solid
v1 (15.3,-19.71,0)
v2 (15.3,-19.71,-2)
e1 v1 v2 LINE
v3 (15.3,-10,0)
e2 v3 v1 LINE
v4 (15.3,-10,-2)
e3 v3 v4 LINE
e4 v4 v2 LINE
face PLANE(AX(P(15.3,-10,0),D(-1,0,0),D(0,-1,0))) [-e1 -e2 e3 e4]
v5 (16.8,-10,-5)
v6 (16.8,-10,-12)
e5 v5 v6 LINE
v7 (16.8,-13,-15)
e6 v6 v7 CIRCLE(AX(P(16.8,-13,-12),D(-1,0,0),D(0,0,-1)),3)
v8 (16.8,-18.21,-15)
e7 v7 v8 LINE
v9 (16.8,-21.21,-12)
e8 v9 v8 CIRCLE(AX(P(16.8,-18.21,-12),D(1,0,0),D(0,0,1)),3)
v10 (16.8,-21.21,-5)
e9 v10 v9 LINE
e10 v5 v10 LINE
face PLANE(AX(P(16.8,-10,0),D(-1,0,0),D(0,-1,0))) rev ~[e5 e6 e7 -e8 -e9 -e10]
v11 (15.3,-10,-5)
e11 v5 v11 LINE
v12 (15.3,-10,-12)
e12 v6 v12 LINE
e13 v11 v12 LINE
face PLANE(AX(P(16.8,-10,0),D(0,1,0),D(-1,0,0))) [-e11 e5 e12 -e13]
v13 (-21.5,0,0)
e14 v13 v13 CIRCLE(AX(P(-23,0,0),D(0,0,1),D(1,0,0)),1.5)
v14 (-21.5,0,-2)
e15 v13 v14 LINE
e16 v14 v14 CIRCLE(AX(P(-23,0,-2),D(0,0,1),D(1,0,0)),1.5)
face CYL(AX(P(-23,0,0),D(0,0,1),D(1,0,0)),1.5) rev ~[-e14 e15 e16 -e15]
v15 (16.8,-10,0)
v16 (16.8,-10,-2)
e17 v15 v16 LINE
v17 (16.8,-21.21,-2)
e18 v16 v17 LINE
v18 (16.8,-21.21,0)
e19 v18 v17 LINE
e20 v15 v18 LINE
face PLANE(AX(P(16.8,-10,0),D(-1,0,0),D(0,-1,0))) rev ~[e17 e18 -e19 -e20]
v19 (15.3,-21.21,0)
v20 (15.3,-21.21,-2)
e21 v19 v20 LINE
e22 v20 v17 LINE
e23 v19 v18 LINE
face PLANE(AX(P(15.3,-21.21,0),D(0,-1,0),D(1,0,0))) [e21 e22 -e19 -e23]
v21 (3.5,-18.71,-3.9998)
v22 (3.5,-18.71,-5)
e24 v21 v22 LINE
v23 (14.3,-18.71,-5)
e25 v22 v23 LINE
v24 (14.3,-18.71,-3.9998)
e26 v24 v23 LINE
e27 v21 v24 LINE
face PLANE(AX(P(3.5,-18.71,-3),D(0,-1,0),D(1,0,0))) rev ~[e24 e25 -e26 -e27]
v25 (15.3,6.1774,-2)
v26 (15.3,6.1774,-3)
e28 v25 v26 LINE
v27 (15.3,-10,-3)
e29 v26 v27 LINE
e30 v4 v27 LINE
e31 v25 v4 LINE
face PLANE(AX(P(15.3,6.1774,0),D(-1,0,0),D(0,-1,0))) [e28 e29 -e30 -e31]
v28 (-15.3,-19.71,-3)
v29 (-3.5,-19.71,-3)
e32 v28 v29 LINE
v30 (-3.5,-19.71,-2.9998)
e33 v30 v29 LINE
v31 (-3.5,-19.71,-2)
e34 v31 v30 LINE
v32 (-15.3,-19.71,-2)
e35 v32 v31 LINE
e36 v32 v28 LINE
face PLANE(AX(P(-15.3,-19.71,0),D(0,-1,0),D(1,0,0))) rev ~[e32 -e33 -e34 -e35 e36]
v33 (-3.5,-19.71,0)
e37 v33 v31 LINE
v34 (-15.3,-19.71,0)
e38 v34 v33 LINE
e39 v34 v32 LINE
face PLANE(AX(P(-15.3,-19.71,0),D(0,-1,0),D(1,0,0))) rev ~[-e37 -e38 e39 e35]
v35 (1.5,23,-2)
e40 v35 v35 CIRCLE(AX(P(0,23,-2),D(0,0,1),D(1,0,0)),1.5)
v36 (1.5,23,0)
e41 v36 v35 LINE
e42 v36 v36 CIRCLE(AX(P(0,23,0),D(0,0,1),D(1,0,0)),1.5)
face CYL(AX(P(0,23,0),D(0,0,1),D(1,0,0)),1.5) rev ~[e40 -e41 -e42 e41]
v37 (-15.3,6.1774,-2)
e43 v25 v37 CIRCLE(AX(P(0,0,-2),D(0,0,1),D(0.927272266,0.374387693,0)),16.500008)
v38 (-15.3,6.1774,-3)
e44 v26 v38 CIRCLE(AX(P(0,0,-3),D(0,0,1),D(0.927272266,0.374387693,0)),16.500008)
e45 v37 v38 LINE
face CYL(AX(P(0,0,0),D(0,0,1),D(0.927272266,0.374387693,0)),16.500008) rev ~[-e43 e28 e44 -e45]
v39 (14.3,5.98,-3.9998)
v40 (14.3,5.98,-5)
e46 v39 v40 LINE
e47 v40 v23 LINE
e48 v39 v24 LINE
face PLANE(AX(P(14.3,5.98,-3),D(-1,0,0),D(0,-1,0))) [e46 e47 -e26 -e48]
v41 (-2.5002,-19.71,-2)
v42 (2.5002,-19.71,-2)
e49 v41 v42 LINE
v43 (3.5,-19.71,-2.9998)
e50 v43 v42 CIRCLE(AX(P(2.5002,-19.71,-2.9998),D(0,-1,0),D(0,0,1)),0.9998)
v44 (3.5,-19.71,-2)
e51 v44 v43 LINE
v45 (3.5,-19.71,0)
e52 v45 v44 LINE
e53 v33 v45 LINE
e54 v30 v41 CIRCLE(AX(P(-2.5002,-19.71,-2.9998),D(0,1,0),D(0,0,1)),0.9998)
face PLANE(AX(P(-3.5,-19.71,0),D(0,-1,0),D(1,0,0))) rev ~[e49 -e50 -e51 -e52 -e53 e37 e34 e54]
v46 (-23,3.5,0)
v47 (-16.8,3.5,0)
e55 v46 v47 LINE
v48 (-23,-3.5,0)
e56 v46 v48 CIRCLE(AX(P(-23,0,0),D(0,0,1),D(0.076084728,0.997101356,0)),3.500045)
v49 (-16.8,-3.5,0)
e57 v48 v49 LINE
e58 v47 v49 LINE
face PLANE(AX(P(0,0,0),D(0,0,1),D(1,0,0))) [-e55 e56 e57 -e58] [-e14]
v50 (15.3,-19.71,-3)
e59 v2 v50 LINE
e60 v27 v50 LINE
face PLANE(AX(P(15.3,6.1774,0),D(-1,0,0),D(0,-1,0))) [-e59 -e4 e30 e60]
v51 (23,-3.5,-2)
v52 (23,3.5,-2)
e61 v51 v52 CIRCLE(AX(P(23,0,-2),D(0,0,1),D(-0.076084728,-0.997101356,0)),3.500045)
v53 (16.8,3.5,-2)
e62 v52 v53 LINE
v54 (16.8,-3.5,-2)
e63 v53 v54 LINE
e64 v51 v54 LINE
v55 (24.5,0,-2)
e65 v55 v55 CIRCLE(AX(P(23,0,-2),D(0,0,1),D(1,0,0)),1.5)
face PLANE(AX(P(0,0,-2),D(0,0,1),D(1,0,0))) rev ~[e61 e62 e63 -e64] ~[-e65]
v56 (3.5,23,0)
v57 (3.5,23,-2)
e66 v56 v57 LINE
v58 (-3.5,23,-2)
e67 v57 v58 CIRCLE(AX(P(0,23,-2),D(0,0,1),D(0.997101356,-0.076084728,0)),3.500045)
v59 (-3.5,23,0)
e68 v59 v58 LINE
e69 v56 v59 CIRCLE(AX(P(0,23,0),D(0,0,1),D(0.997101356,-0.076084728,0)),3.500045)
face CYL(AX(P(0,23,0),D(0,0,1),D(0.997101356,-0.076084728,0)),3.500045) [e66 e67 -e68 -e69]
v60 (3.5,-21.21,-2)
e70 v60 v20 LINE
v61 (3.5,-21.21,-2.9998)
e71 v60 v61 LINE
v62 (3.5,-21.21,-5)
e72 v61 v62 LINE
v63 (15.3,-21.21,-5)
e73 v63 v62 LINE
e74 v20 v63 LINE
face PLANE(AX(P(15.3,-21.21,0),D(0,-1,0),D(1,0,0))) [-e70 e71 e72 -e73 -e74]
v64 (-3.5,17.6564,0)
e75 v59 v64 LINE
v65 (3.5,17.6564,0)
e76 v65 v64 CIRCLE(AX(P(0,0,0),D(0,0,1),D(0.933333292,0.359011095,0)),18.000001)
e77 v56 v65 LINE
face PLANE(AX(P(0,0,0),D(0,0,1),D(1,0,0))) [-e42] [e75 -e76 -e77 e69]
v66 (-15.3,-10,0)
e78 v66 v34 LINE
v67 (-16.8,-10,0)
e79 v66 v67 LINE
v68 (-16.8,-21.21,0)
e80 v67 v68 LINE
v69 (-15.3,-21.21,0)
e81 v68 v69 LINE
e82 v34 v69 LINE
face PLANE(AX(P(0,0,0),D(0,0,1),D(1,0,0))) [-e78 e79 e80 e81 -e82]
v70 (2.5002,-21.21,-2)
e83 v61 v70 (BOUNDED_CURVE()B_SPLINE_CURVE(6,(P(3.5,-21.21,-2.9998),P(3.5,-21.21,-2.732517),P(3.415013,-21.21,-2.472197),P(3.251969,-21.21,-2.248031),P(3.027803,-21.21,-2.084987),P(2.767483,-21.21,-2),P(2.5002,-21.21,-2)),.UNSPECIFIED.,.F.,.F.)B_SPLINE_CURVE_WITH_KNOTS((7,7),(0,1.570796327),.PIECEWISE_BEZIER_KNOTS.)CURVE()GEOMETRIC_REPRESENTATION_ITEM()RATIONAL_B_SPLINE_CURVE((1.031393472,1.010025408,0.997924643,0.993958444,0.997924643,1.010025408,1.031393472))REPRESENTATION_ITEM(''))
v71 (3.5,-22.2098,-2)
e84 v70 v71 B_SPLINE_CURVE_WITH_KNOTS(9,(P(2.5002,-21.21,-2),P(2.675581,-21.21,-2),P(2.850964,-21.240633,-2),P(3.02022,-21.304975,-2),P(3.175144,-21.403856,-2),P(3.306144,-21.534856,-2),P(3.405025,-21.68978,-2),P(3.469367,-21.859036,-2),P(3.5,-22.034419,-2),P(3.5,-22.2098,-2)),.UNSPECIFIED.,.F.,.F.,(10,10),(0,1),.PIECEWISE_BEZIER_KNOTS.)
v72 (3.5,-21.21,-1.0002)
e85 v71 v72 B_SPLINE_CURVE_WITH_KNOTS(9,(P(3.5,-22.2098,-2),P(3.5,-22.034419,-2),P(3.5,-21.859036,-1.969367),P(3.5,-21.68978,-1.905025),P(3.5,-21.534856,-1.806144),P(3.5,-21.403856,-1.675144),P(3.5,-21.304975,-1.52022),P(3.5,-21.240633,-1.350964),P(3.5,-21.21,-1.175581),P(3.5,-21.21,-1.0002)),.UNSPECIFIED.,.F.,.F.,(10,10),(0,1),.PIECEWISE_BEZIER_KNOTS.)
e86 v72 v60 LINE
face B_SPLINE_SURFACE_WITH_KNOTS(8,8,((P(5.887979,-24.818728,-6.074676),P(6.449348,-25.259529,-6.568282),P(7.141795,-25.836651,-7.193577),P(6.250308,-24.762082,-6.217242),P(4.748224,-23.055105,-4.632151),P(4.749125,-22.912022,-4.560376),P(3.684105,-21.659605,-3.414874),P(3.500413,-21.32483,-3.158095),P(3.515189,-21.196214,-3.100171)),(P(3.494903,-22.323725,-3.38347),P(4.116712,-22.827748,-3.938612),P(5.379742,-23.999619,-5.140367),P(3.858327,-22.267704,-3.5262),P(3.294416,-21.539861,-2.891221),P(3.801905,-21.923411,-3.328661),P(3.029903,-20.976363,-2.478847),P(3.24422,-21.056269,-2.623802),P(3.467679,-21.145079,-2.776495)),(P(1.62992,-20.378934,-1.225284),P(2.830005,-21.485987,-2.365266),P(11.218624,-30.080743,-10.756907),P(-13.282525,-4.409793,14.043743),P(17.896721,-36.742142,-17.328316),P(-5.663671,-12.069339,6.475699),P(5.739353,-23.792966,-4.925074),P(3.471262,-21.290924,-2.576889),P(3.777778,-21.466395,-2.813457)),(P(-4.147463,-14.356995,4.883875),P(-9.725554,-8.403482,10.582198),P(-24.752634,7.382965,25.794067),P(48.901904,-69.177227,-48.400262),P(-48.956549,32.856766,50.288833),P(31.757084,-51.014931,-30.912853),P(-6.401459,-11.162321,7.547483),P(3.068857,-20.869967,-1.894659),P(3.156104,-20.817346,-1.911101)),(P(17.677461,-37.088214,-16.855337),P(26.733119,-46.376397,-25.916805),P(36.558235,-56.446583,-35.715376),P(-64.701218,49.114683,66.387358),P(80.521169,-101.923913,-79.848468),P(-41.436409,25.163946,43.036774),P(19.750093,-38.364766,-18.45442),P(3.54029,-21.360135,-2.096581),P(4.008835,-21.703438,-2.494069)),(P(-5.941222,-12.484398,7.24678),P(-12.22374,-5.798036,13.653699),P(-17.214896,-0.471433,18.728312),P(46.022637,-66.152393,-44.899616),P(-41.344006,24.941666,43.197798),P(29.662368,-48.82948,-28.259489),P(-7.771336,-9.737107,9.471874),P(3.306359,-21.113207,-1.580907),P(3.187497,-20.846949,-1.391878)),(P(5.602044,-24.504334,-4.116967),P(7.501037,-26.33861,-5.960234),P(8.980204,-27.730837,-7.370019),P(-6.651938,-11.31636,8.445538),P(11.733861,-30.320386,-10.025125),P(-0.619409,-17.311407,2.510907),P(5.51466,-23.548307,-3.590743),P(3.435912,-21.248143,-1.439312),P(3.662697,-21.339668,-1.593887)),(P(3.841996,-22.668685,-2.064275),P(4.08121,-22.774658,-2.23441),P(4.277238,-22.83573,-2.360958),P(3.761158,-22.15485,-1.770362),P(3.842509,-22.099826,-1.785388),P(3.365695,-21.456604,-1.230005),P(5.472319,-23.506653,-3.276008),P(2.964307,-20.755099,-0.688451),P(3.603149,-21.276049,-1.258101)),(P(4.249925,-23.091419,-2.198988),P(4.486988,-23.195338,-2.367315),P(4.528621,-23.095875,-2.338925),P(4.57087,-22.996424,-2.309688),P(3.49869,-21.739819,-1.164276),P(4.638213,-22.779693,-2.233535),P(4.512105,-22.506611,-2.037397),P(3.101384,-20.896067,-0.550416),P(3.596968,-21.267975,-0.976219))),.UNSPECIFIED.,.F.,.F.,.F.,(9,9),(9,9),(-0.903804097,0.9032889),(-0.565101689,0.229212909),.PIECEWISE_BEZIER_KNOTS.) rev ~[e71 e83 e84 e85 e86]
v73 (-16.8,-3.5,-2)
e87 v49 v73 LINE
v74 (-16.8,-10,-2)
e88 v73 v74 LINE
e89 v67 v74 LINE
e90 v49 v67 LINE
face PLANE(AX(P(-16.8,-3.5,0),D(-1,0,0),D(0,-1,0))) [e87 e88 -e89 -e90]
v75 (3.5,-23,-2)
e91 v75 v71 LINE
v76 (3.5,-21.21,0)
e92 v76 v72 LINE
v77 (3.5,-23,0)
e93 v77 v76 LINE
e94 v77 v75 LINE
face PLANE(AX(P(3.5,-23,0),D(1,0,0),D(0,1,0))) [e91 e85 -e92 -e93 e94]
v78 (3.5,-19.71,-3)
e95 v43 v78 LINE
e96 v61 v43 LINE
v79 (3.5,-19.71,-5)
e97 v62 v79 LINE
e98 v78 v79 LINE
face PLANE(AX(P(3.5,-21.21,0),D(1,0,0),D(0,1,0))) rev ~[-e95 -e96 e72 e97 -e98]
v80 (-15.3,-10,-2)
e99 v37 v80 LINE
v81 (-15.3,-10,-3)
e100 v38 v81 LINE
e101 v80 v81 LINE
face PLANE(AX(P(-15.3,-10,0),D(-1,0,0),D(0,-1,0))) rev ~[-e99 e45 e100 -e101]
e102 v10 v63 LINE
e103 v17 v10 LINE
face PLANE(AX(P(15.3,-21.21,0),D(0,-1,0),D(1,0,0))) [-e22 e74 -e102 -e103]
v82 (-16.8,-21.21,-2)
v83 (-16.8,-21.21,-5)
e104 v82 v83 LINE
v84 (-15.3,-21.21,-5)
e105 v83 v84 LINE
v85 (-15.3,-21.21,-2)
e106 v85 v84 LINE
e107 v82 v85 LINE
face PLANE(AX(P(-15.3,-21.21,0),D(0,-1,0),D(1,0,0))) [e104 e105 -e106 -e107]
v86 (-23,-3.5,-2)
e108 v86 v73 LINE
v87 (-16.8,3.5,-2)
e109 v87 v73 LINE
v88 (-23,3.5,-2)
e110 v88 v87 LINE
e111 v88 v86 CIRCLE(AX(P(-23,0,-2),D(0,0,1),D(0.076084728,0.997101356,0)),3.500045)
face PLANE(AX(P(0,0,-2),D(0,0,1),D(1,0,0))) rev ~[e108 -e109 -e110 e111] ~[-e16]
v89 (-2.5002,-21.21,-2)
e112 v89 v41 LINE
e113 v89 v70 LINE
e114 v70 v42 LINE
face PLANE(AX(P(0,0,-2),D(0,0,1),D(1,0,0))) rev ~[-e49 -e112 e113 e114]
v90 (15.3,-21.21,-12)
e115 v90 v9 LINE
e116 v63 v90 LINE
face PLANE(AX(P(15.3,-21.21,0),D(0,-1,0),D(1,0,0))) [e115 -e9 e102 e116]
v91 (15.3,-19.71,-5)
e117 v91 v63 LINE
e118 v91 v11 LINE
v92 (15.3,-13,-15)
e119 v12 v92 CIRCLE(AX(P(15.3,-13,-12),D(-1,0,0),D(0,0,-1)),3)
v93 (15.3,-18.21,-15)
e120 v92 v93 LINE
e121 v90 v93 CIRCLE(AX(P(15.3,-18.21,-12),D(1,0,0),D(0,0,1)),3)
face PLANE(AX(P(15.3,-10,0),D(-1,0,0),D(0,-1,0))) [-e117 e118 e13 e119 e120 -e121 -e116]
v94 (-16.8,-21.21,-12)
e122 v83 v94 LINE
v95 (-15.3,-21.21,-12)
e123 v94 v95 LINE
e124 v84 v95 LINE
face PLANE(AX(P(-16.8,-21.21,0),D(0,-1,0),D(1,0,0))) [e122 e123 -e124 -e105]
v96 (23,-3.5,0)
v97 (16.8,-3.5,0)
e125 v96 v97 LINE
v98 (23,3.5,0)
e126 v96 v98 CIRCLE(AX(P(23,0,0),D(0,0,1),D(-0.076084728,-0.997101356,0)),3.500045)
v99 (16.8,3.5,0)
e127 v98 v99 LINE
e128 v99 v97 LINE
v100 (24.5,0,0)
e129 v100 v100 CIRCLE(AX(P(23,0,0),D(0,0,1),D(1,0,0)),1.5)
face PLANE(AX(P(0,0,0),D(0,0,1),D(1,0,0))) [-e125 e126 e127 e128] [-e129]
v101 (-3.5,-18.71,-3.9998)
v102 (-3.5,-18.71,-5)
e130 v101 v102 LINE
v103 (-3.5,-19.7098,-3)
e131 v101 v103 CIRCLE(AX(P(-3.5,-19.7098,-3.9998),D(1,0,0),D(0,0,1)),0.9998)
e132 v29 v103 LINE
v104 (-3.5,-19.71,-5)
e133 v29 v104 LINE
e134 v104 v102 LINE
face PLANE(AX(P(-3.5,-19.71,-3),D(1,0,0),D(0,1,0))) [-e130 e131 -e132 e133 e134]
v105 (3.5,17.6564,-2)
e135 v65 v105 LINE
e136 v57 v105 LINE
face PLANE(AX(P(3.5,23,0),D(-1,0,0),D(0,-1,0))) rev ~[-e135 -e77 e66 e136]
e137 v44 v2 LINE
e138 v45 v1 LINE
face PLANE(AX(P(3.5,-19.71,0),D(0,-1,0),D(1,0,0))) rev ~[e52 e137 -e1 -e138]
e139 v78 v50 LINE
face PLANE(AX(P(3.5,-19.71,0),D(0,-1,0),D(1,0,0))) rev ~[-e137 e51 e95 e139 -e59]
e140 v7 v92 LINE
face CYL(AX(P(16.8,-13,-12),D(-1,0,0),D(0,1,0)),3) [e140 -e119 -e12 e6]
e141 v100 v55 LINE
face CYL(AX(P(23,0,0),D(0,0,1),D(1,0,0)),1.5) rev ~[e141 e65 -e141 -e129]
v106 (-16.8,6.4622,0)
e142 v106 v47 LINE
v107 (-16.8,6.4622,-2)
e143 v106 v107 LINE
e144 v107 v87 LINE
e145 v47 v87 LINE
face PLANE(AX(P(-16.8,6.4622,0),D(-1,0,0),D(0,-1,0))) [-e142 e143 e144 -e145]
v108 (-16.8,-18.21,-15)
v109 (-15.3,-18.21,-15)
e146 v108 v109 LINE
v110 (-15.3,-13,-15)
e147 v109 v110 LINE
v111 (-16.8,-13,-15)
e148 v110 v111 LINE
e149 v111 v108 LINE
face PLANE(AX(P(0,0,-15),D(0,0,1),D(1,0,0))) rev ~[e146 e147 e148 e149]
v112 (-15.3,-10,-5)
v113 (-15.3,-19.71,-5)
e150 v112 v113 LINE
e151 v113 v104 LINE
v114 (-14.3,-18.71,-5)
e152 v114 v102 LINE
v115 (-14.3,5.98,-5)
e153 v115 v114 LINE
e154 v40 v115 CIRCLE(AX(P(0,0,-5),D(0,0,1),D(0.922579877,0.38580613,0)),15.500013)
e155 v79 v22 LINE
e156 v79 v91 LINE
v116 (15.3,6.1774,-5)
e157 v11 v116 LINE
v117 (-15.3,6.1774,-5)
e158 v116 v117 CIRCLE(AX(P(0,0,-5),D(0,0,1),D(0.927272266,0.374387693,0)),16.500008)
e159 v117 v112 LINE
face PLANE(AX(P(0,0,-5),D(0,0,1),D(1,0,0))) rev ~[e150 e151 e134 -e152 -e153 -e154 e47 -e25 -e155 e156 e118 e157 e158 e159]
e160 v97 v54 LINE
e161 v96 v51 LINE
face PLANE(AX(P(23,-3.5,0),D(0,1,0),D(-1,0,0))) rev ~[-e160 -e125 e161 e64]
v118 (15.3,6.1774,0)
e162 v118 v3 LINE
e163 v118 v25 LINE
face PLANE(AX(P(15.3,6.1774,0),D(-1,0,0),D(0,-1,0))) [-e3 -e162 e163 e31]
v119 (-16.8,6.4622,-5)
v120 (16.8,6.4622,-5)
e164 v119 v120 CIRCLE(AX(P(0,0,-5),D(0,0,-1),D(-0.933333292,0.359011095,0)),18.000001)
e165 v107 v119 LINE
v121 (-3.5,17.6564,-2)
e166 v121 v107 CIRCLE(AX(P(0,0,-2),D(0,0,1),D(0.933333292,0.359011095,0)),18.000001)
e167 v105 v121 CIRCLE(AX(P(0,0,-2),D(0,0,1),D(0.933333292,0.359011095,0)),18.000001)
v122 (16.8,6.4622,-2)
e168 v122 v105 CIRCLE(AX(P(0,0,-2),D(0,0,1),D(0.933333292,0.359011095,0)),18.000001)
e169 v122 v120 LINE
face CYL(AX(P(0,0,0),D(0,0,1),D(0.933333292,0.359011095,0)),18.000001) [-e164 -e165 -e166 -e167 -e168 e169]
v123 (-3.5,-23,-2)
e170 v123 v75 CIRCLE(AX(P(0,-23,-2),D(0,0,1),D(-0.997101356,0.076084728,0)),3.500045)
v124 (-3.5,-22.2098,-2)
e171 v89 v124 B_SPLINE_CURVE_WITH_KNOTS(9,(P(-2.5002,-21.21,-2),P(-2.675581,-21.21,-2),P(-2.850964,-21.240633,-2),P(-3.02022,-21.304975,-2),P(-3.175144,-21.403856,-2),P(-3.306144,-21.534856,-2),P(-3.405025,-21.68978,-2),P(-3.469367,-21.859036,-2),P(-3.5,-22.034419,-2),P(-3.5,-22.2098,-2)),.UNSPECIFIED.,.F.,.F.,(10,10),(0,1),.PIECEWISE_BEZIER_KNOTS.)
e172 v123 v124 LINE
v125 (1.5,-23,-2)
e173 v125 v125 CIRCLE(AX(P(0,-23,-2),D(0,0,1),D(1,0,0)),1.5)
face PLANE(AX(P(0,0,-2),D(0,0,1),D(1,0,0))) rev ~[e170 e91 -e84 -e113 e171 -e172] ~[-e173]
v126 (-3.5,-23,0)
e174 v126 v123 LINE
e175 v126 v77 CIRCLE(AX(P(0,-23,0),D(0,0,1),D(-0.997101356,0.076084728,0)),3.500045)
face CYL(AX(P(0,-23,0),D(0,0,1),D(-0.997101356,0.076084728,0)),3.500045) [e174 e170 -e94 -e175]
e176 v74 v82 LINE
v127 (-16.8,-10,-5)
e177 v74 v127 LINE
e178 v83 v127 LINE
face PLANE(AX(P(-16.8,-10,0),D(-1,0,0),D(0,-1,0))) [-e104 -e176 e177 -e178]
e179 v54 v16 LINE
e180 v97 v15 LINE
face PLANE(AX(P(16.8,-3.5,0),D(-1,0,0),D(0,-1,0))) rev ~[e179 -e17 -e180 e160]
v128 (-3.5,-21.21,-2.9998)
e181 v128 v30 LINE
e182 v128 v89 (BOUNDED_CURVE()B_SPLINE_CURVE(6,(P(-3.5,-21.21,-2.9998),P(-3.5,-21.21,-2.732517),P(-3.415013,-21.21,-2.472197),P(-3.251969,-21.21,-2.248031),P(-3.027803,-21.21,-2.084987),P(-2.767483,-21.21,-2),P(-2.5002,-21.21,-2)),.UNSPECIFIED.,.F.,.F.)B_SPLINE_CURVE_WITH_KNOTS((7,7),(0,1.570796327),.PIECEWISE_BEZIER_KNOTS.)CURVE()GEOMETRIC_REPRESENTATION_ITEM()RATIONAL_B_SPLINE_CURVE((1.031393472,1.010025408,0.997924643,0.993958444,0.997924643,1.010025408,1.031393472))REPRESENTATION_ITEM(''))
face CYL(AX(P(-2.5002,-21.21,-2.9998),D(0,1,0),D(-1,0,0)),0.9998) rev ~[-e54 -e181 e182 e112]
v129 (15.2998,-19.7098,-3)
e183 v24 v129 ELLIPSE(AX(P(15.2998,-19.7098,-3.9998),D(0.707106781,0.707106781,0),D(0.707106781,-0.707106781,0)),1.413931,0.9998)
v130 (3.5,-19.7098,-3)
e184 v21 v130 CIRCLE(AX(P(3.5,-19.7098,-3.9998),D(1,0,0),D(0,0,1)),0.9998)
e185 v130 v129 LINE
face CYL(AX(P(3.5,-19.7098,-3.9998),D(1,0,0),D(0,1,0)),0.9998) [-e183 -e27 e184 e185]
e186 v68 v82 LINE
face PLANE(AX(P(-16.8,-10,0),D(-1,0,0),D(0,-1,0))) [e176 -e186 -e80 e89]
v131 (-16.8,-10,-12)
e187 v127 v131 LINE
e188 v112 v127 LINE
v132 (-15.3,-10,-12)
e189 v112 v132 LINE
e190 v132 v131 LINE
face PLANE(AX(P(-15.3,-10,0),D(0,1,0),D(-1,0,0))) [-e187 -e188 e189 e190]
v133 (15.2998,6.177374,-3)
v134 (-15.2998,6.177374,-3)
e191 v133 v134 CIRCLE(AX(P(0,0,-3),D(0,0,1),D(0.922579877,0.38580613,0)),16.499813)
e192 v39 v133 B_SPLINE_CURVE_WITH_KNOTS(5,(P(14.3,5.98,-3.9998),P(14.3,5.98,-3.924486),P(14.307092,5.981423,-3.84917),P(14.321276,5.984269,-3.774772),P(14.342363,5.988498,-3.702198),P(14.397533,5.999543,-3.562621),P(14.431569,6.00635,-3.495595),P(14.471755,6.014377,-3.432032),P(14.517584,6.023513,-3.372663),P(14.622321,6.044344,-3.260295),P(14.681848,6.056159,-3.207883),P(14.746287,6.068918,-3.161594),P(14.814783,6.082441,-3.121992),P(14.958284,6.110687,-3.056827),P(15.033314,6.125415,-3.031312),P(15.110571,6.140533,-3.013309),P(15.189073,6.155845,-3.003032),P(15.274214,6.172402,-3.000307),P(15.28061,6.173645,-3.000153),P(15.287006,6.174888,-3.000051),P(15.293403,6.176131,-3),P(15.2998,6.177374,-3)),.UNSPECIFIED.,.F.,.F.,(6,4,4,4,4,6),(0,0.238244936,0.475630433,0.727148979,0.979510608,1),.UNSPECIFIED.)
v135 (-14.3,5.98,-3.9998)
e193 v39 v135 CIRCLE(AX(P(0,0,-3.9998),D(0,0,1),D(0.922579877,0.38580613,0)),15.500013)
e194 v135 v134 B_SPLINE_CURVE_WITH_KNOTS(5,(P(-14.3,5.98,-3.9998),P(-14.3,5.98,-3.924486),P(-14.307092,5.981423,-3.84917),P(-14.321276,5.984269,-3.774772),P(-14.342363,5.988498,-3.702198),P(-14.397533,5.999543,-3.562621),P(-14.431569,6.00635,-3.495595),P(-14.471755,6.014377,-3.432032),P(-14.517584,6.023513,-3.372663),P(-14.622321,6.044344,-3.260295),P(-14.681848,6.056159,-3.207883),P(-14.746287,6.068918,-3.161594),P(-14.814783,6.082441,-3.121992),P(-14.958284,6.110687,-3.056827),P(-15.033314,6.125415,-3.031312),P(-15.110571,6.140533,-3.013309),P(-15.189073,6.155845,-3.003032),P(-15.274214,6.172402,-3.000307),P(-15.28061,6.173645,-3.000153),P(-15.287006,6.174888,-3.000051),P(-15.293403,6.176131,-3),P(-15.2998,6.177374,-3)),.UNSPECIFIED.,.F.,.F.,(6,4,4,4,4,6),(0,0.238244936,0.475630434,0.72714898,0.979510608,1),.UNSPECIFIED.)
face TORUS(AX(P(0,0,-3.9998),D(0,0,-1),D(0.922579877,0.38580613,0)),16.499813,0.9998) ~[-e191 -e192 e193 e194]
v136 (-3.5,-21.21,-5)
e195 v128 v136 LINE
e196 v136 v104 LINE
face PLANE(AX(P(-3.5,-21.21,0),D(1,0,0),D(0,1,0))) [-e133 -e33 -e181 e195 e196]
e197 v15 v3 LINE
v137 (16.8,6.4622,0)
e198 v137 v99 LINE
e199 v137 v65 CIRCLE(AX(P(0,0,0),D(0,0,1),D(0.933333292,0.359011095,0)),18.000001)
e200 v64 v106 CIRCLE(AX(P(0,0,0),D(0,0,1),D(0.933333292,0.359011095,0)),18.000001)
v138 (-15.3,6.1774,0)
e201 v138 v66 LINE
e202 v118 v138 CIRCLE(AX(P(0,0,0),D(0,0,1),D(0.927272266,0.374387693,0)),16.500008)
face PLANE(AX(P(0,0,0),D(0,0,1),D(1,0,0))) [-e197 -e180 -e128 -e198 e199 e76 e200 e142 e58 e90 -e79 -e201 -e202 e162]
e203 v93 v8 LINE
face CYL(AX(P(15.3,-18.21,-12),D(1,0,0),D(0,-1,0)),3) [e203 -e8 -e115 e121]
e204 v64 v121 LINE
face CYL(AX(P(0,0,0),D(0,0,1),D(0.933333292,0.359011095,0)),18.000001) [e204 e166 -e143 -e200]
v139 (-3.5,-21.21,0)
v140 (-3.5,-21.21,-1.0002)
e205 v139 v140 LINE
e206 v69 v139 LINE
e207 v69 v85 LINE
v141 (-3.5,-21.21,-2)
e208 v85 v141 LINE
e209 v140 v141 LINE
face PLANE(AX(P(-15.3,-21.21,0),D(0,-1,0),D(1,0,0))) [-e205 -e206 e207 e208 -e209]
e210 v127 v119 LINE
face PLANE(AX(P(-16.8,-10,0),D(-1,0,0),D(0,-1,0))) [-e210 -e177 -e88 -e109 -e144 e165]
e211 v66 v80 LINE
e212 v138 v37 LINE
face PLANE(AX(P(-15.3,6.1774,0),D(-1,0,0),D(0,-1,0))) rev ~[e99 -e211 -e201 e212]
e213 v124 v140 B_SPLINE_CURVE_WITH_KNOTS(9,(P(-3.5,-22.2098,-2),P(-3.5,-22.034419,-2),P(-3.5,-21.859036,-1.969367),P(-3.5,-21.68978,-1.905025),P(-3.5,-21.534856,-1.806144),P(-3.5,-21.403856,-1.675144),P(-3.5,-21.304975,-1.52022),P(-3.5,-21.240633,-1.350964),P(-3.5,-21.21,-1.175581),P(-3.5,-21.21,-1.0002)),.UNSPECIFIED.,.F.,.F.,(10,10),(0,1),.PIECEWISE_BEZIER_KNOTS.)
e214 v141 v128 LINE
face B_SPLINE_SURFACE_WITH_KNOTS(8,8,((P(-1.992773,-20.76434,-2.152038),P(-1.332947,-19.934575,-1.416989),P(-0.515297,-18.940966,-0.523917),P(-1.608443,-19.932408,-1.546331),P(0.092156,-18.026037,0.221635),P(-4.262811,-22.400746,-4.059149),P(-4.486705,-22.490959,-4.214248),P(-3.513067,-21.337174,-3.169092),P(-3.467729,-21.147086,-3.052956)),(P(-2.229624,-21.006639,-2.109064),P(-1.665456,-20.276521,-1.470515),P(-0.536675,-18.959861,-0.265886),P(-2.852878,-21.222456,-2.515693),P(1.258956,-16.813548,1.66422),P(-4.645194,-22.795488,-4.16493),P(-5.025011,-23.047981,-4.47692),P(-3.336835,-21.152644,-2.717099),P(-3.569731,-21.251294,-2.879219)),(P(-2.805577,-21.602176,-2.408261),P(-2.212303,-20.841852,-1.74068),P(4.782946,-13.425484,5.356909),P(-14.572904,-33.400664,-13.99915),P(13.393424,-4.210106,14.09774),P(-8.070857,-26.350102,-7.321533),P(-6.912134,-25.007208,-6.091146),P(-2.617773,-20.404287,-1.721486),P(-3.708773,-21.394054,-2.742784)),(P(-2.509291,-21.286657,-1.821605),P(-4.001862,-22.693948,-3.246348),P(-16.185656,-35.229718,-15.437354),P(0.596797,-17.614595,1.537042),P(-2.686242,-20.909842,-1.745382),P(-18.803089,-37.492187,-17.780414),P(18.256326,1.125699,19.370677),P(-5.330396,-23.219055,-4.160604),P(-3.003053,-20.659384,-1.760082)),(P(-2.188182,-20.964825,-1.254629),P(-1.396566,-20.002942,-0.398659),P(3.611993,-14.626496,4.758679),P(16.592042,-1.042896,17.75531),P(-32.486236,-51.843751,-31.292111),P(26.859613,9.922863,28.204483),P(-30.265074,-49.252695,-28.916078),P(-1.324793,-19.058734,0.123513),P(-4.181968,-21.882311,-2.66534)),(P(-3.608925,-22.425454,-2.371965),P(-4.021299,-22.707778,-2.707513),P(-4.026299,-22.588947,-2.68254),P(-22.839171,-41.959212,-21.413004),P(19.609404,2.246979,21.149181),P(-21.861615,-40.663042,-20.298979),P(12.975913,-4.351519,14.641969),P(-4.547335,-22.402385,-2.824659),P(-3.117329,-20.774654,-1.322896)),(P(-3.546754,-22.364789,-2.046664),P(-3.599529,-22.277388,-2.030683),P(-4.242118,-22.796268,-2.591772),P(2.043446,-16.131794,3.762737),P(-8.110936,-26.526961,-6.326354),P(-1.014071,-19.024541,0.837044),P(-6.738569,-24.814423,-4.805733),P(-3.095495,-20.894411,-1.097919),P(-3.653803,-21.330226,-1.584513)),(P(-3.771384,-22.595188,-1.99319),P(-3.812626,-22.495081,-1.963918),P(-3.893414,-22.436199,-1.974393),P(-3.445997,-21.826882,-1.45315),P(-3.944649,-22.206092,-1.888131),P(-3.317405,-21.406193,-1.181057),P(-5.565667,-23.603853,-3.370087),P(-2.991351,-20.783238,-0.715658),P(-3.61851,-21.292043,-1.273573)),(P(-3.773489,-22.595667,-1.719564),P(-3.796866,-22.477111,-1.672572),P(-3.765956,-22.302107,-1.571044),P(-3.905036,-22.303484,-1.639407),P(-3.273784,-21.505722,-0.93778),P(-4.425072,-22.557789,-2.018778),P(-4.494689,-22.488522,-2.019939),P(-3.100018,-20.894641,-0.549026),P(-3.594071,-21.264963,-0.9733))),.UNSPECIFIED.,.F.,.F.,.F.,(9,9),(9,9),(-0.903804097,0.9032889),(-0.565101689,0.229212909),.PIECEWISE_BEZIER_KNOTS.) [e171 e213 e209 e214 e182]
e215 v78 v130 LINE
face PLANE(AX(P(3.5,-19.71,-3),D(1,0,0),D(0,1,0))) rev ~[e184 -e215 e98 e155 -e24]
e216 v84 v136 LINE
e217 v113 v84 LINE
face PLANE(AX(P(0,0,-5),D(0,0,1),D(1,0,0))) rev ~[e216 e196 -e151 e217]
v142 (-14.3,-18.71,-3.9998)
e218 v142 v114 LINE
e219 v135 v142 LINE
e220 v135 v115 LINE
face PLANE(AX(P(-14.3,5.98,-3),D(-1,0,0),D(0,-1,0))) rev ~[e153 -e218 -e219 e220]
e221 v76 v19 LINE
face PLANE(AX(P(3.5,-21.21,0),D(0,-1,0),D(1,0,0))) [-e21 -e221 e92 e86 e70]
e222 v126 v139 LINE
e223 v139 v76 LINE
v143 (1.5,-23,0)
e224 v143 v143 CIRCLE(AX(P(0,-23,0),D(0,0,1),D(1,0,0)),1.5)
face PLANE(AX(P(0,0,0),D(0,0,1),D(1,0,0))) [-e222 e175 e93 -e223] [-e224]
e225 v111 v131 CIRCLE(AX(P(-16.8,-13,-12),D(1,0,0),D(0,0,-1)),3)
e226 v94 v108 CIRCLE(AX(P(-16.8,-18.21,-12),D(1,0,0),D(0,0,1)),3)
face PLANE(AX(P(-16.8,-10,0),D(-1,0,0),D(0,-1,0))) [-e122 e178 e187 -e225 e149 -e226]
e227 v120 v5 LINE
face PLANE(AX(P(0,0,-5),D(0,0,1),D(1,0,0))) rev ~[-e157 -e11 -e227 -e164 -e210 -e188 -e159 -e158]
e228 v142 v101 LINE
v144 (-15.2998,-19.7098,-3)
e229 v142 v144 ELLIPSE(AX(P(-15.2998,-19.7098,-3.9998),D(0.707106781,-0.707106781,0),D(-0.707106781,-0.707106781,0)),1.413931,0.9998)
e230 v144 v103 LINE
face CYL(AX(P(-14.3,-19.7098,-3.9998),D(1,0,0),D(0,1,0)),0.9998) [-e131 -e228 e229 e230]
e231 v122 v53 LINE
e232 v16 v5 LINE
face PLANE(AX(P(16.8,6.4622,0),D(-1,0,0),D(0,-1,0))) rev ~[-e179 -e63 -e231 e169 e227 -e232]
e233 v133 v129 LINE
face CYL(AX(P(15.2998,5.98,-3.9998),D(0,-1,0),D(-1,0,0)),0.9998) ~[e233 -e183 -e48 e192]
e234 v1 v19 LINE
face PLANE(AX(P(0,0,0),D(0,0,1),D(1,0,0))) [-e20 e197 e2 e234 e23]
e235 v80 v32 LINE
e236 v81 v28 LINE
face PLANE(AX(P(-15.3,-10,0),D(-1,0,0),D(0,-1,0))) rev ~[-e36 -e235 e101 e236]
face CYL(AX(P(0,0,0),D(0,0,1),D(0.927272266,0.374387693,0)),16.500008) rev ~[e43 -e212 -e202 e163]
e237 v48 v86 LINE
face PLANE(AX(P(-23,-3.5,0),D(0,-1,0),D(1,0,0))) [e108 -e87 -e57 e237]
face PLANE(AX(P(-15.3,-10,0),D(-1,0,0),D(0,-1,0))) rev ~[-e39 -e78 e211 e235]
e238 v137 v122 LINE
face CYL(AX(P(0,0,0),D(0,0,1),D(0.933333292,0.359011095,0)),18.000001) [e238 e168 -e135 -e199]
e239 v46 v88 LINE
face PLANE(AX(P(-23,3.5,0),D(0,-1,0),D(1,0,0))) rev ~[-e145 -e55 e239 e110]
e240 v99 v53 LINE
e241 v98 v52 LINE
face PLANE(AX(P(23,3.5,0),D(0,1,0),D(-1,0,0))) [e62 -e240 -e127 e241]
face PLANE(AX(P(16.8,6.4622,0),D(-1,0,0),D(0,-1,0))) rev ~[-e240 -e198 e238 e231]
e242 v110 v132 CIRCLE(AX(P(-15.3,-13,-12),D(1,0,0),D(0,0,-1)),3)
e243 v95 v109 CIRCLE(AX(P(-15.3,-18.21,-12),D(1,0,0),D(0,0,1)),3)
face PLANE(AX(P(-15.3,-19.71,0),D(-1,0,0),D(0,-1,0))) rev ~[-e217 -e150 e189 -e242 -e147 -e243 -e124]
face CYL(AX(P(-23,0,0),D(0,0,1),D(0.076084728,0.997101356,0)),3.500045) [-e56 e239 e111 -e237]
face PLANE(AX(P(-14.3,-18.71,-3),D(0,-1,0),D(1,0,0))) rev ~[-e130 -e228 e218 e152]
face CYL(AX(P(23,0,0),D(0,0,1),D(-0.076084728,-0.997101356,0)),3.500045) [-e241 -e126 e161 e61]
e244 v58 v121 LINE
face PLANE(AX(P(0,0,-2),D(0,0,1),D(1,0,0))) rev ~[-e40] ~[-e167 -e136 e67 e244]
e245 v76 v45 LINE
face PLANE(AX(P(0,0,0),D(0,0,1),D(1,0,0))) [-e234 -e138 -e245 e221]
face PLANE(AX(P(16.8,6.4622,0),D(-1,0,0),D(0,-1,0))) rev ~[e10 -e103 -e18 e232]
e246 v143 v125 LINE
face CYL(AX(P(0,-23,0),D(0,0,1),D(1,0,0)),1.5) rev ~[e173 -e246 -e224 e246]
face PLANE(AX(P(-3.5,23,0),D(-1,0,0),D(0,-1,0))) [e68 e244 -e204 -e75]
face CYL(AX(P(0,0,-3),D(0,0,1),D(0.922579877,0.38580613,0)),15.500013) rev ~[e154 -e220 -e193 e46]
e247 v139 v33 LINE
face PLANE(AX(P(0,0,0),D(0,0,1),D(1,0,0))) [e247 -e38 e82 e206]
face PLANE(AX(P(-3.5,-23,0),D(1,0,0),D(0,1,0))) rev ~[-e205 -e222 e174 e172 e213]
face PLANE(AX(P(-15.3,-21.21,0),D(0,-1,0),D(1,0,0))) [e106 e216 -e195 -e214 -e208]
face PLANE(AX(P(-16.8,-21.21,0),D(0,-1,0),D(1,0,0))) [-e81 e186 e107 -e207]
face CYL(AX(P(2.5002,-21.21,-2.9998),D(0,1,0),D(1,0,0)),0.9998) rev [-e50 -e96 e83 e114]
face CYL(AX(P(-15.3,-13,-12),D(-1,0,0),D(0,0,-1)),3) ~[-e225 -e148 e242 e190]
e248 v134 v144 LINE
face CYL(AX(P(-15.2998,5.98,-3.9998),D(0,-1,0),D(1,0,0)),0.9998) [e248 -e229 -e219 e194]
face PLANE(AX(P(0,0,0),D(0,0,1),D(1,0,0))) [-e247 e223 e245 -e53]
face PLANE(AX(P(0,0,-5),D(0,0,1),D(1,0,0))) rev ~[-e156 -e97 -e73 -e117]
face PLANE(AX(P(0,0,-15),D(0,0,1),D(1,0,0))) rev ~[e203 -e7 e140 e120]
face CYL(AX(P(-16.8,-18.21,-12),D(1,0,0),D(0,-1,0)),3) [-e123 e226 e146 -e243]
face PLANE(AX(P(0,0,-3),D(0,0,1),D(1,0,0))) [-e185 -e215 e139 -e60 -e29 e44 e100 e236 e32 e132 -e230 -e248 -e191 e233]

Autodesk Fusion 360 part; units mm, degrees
sketch "Sensor_AMT103" plane through (0, 0, 0) normal (0, 0, 1) x (1, 0, 0) in component "SensorMount"
  line L0 (-14.3, -18.71) -> (14.3, -18.71)
  arc A0 (14.3, 5.98) -> (-14.3, 5.98) centre (0, 0) ccw
  line L1 (14.3, 5.98) -> (14.3, -18.71)
  line L2 (-14.3, 5.98) -> (-14.3, -18.71)
  line L3 (0, 0) -> (26.3569, 0) construction
  line L4 (0, 0) -> (0, 31) construction
  circle A1 centre (0, 0) radius 23 construction
  circle A2 centre (23, 0) radius 1.5
  circle A3 centre (0, 23) radius 1.5
  circle A4 centre (-23, 0) radius 1.5
  circle A5 centre (0, -23) radius 1.5
  line L5 (23, -3.5) -> (16.8, -3.5)
  line L6 (-23, -3.5) -> (-16.8, -3.5)
  line L7 (-23, 3.5) -> (-16.8, 3.5)
  line L8 (3.5, -23) -> (3.5, -21.21)
  line L9 (-3.5, -23) -> (-3.5, -21.21)
  line L10 (-3.5, 23) -> (-3.5, 17.6564)
  line L11 (3.5, 23) -> (3.5, 17.6564)
  arc A6 (-3.4899, -22.7337) -> (3.4899, -22.7337) centre (0, -23) ccw
  arc A7 (-22.7337, 3.4899) -> (-22.7337, -3.4899) centre (-23, 0) ccw
  arc A8 (22.7337, -3.4899) -> (22.7337, 3.4899) centre (23, 0) ccw
  line L12 (23, 3.5) -> (16.8, 3.5)
  arc A9 (3.4899, 22.7337) -> (-3.4899, 22.7337) centre (0, 23) ccw
  line L13 (15.3, 6.1774) -> (15.3, -19.71)
  line L14 (-15.3, -19.71) -> (15.3, -19.71)
  line L15 (-15.3, 6.1774) -> (-15.3, -19.71)
  arc A10 (15.3, 6.1774) -> (-15.3, 6.1774) centre (0, 0) ccw
  line L16 (16.8, 6.4622) -> (16.8, -21.21)
  line L17 (-16.8, -21.21) -> (16.8, -21.21)
  line L18 (-16.8, 6.4622) -> (-16.8, -21.21)
  arc A11 (16.8, 6.4622) -> (-16.8, 6.4622) centre (0, 0) ccw
  line L19 (30, -10) -> (-28.5666, -10) construction
  line L20 (16.8, -10) -> (15.3, -10)
  line L21 (-15.3, -10) -> (-16.8, -10)
  line L22 (-15.3, -19.71) -> (-15.3, -21.21)
  line L23 (15.3, -19.71) -> (15.3, -21.21)
  line L24 (3.5, -21.21) -> (3.5, -18.71)
  line L25 (-3.5, -21.21) -> (-3.5, -18.71)
  point P0 (33, 0)
  point P1 (0, 15.5)
  dimension "d539" = 15.5
  dimension "d540" = 14.3
  dimension "d541" = 14.3
  dimension "d544" = 34.21
  dimension "d545" = 46
  dimension "d546" = 3
  dimension "d548" = 360
  dimension "d549" = 1
  dimension "d550" = 2.5
  dimension "d551" = 7
extrude "Extrude6" add sketch "Sensor_AMT103" against normal blind 2 contours L14 L17 L22 L25 | L14 L17 L24 L25 | L14 L17 L23 L24 | L15 L17 L18 L21 L22 | L8 L9 A6 L17 | L13 L16 L17 L20 L23 | L13 L15 A10 L16 L18 A11 L20 L21 | L6 L7 A7 L18 | L5 A8 L12 L16 | L10 L11 A9 A11 in component "SensorMount"
extrude "Extrude7" add sketch "Sensor_AMT103" against normal blind 5 contours L14 L17 L22 L25 | L14 L17 L23 L24 | L15 L17 L18 L21 L22 | L13 L16 L17 L20 L23 | L13 L15 A10 L16 L18 A11 L20 L21 in component "SensorMount"
extrude "Extrude8" add sketch "Sensor_AMT103" along normal blind -5 and the other way blind 3 contours L0 A0 L1 L2 L13 L14 L15 A10 L24 L25 in component "SensorMount"
extrude "Extrude10" add sketch "Sensor_AMT103" against normal blind 15 contours L15 L17 L18 L21 L22 | L13 L16 L17 L20 L23 in component "SensorMount"
fillet "Fillet1" radius 3 4 edges at (16.05, -10, -15) (-16.05, -10, -15) (-16.05, -21.21, -15) (16.05, -21.21, -15) in component "SensorMount"
fillet "Fillet4" radius 1 5 edges at (0, 15.5, -3) (-14.3, -6.365, -3) (14.3, -6.365, -3) (-8.9, -18.71, -3) (8.9, -18.71, -3) in component "SensorMount"
fillet "Fillet5" radius 1 2 edges at (-3.5, -20.46, -2) (3.5, -20.46, -2) in component "SensorMount"
component "Sensor" placed x (1, 0, 0) y (0, 1, 0) z (0, 0, 1) at (0, 0, 0)
component "SensorMount" placed x (1, 0, 0) y (0, 1, 0) z (0, 0, 1) at (0, 0, 0) in component "Sensor"
equation "d64_1 = ( 15.5 * 2 ) * 1 mm"
equation "d65_1 = ( 28.77 / 2 ) * 1 mm"
equation "MotorHeight = 42 mm"
equation "d540 = ( 28.6 / 2 ) * 1 mm"
equation "d541 = ( 28.6 / 2 ) * 1 mm"
equation "Bottom = MotorHeight + FrontMotorDepth + 5 mm"
equation "FrontMotorDepth = 8 mm"
